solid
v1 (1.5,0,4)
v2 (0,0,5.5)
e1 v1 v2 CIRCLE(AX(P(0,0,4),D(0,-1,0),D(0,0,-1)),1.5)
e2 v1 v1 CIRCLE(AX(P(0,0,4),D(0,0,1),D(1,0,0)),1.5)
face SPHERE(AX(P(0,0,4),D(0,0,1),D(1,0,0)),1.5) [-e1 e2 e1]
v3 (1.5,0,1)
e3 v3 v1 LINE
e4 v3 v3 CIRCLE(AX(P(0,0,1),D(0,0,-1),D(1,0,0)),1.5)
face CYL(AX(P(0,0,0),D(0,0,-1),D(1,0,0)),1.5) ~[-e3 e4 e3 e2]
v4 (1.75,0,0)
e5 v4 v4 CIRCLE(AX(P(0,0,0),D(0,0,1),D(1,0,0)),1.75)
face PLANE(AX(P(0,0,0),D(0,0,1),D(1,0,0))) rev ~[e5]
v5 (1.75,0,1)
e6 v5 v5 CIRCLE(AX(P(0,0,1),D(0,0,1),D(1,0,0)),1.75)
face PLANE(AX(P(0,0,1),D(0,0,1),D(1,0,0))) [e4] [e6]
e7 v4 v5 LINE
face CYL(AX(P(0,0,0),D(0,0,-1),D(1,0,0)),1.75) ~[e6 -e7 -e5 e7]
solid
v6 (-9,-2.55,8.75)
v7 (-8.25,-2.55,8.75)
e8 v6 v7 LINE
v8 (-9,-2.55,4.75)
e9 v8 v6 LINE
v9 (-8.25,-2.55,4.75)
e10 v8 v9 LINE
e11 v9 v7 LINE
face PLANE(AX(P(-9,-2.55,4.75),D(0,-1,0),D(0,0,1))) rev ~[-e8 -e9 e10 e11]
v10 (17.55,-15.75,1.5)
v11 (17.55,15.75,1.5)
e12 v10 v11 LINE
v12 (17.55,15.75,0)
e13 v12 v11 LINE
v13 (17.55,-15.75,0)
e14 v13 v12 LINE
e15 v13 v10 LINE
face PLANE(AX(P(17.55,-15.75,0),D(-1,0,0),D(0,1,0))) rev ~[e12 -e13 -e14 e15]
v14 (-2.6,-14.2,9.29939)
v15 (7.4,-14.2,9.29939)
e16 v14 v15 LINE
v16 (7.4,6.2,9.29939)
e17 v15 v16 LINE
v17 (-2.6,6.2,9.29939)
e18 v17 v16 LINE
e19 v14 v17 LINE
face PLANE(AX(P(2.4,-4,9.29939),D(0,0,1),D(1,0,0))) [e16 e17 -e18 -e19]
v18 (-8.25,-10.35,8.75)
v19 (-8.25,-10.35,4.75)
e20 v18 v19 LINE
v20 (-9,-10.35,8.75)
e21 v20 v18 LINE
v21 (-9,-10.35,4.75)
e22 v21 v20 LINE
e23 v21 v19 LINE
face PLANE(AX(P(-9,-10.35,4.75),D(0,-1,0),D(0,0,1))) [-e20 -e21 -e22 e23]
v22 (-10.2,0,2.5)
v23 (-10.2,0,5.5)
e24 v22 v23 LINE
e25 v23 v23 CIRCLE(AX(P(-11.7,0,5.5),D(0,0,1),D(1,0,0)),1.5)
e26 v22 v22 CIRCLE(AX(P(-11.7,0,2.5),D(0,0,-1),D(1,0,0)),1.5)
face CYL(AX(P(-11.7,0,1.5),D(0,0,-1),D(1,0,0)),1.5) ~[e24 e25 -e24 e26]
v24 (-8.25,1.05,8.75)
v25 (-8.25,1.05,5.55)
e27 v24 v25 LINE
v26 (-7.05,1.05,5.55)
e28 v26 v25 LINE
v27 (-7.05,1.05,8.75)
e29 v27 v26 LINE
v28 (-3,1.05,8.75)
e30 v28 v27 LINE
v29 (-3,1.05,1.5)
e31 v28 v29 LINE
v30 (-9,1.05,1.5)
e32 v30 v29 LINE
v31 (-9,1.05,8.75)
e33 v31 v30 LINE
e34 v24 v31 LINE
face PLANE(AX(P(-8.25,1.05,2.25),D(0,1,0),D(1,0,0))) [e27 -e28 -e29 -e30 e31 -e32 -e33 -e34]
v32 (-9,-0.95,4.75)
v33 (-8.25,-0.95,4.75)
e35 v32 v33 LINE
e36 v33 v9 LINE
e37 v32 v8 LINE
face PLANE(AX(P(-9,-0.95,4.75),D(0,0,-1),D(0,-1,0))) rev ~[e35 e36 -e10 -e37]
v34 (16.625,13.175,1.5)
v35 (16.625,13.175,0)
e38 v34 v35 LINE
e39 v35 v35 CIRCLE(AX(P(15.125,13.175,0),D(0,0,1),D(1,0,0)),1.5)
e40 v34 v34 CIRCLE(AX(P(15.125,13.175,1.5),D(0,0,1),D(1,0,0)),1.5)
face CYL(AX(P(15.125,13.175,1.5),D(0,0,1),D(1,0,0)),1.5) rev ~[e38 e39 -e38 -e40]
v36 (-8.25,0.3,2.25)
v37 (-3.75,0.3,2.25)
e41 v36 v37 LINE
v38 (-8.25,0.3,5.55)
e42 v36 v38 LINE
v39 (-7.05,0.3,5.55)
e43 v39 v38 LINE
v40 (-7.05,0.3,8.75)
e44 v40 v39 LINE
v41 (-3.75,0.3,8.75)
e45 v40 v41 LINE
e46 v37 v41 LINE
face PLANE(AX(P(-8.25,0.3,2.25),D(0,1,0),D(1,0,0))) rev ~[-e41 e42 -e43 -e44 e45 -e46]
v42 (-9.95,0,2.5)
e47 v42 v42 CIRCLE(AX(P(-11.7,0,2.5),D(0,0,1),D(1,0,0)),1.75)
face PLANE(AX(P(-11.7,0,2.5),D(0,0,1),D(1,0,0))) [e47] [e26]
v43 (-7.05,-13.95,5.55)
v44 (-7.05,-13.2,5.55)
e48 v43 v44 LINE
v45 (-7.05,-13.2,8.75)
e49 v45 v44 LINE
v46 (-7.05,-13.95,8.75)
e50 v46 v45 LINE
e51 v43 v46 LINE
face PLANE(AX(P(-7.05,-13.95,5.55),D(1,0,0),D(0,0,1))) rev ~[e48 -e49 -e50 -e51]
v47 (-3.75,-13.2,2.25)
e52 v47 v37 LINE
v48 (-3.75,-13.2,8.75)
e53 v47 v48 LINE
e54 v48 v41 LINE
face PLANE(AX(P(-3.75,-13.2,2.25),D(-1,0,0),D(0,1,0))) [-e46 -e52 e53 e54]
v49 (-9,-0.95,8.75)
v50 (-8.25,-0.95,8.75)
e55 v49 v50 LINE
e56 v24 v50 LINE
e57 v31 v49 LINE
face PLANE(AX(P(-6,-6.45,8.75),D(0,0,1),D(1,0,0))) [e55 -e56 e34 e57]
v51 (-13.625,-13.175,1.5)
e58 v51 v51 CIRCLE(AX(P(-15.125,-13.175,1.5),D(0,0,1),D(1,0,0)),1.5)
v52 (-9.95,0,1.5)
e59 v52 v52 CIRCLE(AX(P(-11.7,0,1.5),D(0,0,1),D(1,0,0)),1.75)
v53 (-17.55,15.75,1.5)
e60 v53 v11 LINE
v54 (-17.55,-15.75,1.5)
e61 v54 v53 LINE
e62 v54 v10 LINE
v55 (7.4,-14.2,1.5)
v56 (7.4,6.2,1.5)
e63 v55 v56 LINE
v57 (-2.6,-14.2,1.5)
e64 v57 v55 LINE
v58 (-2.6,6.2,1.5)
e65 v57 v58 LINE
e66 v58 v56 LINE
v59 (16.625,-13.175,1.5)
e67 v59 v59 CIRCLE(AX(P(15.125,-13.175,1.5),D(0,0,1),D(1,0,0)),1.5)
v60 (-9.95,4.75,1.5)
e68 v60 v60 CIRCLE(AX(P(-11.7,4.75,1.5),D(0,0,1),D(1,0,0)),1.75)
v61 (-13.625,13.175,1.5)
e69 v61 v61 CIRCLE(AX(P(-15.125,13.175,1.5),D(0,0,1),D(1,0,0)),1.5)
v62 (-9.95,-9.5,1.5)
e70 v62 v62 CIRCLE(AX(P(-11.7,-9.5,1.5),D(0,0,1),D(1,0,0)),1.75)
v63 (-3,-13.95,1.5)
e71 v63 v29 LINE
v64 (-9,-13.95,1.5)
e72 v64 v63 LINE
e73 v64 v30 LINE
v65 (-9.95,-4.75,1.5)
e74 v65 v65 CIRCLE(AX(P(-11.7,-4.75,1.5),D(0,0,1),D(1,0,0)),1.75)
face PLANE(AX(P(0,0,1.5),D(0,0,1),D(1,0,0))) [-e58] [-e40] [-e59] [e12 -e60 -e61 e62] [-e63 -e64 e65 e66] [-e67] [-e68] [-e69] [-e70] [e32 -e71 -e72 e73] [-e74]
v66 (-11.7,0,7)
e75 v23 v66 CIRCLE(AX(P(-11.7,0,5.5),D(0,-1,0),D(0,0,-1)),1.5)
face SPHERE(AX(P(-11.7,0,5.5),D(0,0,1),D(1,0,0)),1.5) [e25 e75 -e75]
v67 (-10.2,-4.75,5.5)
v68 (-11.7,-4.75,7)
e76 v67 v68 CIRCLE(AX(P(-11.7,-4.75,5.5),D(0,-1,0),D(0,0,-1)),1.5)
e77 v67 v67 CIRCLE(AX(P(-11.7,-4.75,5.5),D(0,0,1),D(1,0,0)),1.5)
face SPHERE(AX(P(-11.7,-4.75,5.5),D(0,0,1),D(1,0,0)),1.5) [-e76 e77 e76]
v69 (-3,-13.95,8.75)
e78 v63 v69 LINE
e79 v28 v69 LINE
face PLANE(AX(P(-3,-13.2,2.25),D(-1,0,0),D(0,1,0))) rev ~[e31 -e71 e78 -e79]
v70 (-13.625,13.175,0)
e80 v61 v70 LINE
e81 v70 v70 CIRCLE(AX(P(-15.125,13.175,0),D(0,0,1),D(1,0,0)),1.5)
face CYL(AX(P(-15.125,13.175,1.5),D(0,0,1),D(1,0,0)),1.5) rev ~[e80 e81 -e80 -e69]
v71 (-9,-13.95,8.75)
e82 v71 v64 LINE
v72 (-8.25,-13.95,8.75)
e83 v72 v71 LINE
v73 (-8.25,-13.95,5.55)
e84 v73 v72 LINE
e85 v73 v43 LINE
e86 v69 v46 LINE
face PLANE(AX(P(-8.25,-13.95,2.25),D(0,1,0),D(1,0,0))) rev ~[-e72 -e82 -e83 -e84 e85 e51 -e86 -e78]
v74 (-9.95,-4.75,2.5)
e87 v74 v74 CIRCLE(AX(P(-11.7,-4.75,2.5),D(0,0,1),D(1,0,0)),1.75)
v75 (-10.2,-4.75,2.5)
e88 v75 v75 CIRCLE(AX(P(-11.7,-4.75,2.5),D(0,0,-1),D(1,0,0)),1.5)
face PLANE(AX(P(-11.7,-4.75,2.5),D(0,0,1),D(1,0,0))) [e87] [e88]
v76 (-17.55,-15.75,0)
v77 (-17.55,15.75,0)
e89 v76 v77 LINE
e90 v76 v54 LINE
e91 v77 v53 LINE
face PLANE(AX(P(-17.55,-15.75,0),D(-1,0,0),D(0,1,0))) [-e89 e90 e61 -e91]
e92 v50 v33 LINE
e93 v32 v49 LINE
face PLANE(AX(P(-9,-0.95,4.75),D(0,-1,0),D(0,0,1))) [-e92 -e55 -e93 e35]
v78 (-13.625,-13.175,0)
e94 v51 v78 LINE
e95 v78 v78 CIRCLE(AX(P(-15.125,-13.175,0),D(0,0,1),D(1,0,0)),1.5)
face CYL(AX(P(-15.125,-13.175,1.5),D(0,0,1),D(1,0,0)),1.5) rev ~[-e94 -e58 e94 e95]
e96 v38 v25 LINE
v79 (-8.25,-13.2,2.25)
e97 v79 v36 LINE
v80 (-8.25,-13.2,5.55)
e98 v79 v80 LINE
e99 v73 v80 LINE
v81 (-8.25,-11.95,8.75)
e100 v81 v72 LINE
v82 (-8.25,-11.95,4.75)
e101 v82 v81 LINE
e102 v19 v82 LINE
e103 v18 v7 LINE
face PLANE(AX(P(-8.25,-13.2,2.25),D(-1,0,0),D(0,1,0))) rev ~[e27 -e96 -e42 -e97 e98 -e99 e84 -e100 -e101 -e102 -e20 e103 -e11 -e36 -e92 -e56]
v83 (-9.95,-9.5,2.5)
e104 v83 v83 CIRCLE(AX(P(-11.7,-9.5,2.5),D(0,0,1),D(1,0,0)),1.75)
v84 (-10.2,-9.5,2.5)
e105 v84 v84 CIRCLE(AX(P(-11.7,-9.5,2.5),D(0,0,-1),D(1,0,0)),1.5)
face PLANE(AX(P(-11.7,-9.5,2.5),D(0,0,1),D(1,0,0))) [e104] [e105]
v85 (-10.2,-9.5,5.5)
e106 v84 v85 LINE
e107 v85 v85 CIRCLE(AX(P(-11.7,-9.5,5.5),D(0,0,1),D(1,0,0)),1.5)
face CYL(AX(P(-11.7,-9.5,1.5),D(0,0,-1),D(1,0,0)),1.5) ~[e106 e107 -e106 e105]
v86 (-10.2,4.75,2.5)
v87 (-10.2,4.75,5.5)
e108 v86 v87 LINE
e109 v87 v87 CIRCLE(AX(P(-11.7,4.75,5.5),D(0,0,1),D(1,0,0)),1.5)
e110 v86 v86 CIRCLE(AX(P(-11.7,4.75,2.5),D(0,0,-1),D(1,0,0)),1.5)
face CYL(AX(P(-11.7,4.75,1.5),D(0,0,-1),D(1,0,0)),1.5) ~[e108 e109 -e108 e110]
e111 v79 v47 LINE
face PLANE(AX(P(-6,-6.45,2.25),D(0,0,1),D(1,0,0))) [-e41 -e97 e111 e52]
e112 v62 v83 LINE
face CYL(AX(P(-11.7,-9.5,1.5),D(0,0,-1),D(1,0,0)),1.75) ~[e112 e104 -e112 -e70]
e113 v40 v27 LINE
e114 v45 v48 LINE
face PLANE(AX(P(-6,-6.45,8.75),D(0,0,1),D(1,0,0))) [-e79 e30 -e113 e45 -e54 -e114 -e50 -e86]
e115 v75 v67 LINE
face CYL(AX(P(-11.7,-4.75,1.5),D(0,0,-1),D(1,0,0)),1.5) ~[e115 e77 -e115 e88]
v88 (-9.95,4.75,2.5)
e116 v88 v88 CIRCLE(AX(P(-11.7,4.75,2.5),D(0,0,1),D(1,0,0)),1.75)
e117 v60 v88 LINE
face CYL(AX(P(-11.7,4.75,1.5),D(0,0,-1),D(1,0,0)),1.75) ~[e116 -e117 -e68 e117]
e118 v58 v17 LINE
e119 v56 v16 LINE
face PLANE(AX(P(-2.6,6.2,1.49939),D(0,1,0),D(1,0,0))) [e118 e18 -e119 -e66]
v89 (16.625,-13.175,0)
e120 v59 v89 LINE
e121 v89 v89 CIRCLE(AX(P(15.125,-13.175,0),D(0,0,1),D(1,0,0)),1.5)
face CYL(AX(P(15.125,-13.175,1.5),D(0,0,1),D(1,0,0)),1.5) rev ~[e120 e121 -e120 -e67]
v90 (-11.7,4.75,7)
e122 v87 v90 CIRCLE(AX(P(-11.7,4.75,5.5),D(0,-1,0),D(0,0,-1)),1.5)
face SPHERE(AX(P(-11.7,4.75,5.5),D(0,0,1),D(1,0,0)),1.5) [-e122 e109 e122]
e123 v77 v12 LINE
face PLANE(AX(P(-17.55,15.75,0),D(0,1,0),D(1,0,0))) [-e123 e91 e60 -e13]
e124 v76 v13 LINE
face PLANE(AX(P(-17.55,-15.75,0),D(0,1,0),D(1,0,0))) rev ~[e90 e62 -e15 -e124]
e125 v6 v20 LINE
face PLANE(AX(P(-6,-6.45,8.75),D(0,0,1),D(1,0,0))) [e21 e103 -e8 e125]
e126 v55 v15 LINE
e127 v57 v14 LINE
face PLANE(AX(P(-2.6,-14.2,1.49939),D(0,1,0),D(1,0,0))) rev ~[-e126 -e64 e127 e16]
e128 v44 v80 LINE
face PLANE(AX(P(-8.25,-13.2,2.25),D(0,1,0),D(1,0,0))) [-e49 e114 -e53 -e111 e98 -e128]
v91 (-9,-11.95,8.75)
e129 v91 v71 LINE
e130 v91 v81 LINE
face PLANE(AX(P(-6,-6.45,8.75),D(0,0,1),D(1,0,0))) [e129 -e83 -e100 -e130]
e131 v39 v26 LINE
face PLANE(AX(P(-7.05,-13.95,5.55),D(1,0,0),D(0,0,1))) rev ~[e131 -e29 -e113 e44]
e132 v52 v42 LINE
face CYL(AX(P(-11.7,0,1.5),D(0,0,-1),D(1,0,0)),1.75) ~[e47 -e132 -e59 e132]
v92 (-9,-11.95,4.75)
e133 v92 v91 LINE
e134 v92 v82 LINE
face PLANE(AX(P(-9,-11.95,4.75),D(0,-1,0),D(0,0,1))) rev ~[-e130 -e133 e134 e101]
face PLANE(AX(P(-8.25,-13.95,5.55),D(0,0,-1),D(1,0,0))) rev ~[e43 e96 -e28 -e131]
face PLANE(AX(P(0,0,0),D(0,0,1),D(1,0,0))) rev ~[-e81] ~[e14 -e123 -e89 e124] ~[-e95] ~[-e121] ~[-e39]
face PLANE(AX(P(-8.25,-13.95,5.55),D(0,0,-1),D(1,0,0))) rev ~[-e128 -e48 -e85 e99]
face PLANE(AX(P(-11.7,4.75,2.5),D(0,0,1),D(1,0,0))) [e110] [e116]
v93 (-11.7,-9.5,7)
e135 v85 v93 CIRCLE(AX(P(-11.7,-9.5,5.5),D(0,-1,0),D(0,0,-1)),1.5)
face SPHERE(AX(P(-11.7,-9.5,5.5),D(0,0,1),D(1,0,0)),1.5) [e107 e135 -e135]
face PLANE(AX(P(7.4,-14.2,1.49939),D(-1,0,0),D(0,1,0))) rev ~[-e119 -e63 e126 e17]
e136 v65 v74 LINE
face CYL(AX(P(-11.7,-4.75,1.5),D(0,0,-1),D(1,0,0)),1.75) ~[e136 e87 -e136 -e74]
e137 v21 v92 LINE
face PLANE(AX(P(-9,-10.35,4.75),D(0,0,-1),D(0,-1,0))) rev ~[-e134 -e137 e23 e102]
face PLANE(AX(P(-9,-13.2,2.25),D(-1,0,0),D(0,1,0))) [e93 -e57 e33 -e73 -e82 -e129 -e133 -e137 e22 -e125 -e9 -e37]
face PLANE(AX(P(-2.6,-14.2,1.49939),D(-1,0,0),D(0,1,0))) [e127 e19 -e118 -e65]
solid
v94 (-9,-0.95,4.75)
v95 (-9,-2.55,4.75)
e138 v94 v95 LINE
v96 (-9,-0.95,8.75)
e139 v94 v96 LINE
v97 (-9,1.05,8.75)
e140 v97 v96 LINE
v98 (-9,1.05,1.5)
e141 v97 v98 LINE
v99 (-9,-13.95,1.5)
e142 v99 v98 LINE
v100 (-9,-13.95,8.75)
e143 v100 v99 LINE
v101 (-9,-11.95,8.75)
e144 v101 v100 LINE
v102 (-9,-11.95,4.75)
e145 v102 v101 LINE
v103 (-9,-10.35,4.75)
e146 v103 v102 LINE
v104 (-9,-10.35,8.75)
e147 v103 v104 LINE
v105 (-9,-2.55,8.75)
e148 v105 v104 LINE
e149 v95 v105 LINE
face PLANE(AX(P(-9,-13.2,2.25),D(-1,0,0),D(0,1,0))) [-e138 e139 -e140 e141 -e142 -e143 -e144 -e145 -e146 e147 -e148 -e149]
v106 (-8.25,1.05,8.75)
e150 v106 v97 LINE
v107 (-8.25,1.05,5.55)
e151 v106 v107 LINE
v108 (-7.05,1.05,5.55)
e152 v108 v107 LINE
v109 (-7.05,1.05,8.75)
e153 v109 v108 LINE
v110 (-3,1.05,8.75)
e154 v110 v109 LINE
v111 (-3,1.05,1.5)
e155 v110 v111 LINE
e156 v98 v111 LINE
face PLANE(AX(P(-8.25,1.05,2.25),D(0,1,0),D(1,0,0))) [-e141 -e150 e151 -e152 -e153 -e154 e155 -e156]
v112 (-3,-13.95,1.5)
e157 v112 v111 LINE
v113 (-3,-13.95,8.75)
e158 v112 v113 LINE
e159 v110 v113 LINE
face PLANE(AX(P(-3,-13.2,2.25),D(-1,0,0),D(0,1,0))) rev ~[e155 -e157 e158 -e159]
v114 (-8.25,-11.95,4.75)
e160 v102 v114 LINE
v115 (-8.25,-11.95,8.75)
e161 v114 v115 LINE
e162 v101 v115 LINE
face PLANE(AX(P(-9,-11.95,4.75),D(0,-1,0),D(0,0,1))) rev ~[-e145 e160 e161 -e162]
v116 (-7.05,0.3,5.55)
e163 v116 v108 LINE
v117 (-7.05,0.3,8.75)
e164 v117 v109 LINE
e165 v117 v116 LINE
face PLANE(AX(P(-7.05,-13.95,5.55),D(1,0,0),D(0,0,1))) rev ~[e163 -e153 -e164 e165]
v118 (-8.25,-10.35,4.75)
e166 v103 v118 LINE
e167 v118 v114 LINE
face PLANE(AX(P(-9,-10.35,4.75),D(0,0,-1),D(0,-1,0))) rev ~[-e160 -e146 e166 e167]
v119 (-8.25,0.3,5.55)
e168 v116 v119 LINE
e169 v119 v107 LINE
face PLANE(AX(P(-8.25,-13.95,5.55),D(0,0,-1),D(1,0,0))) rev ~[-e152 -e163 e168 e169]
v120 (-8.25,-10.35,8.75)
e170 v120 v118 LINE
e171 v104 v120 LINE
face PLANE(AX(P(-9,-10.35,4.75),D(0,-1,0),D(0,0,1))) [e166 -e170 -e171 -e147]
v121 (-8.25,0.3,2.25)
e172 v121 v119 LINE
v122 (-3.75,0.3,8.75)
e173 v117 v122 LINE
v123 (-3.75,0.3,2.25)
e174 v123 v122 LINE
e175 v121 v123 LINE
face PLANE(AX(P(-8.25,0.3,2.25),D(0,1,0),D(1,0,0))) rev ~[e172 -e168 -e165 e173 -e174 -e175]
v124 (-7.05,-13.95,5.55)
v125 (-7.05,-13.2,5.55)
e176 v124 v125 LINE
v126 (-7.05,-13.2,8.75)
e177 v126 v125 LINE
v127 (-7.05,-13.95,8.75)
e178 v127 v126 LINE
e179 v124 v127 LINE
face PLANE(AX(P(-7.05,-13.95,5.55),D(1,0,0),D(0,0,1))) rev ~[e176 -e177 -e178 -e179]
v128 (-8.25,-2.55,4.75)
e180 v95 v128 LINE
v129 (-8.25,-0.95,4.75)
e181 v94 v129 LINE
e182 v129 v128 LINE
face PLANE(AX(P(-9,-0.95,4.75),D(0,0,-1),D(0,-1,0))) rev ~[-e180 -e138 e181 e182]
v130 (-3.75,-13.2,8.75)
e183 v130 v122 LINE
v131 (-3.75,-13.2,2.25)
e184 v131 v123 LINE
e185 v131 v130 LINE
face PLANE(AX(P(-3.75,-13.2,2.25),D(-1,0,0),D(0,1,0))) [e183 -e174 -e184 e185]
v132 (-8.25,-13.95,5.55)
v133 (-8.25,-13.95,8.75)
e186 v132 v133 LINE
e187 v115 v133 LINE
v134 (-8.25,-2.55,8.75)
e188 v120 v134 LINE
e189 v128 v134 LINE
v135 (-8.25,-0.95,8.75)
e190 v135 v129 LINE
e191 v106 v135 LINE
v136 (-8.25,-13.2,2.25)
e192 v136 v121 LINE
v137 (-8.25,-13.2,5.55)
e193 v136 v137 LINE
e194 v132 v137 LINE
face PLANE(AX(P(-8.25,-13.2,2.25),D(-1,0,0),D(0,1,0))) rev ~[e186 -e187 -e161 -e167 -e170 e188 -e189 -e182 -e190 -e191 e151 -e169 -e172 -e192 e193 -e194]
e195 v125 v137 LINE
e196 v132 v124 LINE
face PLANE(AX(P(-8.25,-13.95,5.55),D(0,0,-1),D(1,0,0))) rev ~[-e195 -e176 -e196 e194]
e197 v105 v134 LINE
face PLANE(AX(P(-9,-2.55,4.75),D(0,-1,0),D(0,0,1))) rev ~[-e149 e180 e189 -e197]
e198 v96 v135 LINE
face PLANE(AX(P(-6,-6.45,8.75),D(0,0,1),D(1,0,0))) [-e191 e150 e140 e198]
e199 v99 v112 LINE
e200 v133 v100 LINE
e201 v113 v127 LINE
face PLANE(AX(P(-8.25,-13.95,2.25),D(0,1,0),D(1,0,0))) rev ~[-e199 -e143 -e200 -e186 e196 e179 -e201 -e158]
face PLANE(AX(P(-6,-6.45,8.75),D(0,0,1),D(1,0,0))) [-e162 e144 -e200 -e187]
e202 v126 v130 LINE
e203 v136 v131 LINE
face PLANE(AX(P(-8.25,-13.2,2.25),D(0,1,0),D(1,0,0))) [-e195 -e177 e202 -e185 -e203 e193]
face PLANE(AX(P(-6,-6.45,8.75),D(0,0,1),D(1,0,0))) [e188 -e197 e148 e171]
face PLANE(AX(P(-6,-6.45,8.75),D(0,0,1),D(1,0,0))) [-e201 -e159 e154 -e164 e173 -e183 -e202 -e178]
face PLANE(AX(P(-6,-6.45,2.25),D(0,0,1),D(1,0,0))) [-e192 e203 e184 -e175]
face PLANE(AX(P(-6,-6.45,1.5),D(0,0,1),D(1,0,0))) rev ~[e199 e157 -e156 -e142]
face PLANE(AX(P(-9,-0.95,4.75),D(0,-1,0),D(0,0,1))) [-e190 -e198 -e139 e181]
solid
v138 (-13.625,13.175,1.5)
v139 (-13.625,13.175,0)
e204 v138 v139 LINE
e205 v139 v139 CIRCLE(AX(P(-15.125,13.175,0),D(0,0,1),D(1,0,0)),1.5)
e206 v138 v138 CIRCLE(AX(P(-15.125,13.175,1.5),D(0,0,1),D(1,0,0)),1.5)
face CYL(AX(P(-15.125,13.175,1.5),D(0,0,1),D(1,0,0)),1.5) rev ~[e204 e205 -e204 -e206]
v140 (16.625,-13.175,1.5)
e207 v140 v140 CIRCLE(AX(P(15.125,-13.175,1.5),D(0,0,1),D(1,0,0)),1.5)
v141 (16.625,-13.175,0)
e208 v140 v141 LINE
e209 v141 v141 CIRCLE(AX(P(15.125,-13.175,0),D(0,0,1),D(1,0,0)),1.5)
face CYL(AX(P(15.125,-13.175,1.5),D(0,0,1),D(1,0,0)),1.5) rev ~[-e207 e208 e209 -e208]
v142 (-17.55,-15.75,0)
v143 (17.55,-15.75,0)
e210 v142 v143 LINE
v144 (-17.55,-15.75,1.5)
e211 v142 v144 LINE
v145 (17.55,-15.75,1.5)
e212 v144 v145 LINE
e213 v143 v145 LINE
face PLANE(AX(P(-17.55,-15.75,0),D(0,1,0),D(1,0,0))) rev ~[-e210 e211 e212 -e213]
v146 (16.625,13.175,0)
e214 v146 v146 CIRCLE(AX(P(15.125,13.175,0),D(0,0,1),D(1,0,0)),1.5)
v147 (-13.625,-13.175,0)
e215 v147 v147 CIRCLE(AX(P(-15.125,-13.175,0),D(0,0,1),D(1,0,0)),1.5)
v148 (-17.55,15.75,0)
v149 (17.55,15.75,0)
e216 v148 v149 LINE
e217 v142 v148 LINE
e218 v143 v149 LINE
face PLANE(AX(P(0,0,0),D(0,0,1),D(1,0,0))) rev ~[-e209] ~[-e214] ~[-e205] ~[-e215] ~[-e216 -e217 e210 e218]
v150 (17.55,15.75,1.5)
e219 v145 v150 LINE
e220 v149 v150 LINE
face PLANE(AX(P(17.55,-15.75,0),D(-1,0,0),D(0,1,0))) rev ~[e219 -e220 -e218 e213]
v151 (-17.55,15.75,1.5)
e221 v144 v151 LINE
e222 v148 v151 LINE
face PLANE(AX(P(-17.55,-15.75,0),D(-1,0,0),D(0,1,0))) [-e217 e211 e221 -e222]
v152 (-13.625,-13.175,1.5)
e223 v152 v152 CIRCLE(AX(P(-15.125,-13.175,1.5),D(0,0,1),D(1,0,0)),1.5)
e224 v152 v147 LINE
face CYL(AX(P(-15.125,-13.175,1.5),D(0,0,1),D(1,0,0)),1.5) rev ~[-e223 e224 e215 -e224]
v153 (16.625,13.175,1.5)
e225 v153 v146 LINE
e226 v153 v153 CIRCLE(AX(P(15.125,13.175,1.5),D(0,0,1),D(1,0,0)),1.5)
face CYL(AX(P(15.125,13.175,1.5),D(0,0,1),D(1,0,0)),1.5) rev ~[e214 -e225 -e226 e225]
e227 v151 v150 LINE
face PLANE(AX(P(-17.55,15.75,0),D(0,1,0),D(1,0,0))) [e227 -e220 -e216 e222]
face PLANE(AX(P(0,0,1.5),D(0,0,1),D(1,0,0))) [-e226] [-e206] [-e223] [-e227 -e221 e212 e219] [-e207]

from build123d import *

# Parameters (mm, degrees)
SKETCH_W          = 35.1
SKETCH_H          = 31.5
PAD_DEPTH         = 1.5
SKETCH001_R       = 1.5
POCKET_DEPTH      = 1.501
CYLINDER001_R     = 1.75
CYLINDER001_DEPTH = 1
CYLINDER_R        = 1.5
CYLINDER_DEPTH    = 4
BOX001_W          = 4.5
BOX001_H          = 13.5
BOX001_DEPTH      = 6.5
THICKNESS_T       = 0.75
SKETCH002_W       = 1.6
SKETCH002_H       = 4
POCKET001_DEPTH   = 0.75
SKETCH003_W       = 1.2
SKETCH003_H       = 3.2
POCKET002_DEPTH   = 15.001
BOX_W             = 10
BOX_H             = 20.4
BOX_DEPTH         = 7.8


with BuildPart() as pcb_holes_pocket:
    # Sketch → Pad (new body)
    with BuildSketch(Plane.XY):
        Rectangle(SKETCH_W, SKETCH_H)
    extrude(amount=PAD_DEPTH)

    # Sketch001 → Pocket (cut, through all)
    with BuildSketch(Plane.XY.offset(1.5)):
        with Locations((-15.125, 13.175)):
            Circle(SKETCH001_R)
        with Locations((-15.125, -13.175)):
            Circle(SKETCH001_R)
        with Locations((15.125, -13.175)):
            Circle(SKETCH001_R)
        with Locations((15.125, 13.175)):
            Circle(SKETCH001_R)
    extrude(amount=-POCKET_DEPTH, mode=Mode.SUBTRACT)


with BuildPart() as led_base:
    # Cylinder001 → Cylinder001 (new body)
    with BuildSketch(Plane.XY):
        Circle(CYLINDER001_R)
    extrude(amount=CYLINDER001_DEPTH)


with BuildPart() as led_body:
    # Cylinder → Cylinder (new body)
    with BuildSketch(Plane.XY):
        Circle(CYLINDER_R)
    extrude(amount=CYLINDER_DEPTH)


with BuildPart() as led:
    # Sphere → Sphere (revolve)
    with BuildSketch(Plane(origin=(0, 0, 4), x_dir=(1, 0, 0), z_dir=(0, -1, 0))):
        with BuildLine():
            ThreePointArc((0, -1.5), (1.5, 0), (0, 1.5))
            Line((0, 1.5), (0, -1.5))
        make_face()
    revolve(axis=Axis((0, 0, 4), (0, 0, 1)))

    # Fusion: union led-base, led-body
    add(led_base.part)
    add(led_body.part)


with BuildPart() as connector_side_pocket:
    # Box001 → Box001 (new body)
    with BuildSketch(Plane(origin=(-8.25, -13.2, 2.25), x_dir=(1, 0, 0), z_dir=(0, 0, 1))):
        with Locations((2.25, 6.75)):
            Rectangle(BOX001_W, BOX001_H)
    extrude(amount=BOX001_DEPTH)

    # Thickness
    thickness_openings = [connector_side_pocket.faces().sort_by_distance(p)[0] for p in [
        (-6, -6.45, 8.75),
    ]]
    offset(amount=THICKNESS_T, openings=thickness_openings, kind=Kind.INTERSECTION)

    # Sketch002 → Pocket001 (cut)
    with BuildSketch(Plane(origin=(-9, 0, 0), x_dir=(0, -1, 0), z_dir=(-1, 0, 0))):
        with Locations((1.75, 6.75)):
            Rectangle(SKETCH002_W, SKETCH002_H)
        with Locations((11.15, 6.75)):
            Rectangle(SKETCH002_W, SKETCH002_H)
    extrude(amount=-POCKET001_DEPTH, mode=Mode.SUBTRACT)

    # Sketch003 → Pocket002 (cut, through all)
    with BuildSketch(Plane.XZ.offset(13.95)):
        with Locations((-7.65, 7.15)):
            Rectangle(SKETCH003_W, SKETCH003_H)
    extrude(amount=-POCKET002_DEPTH, mode=Mode.SUBTRACT)


with BuildPart() as pcb:
    # Clone base: copy of pcb-holes-pocket
    add(pcb_holes_pocket.part)


with BuildPart() as connector:
    # Clone001 base: copy of connector-side-pocket
    add(connector_side_pocket.part)


with BuildPart() as clone002:
    # Clone002 base: copy of led
    add(led.part)


with BuildPart() as clone002_1:
    # Clone002 placement: moved
    add(clone002.part.moved(Location((-11.7, -9.5, 1.5))))


with BuildPart() as clone003:
    # Clone003 base: copy of led
    add(led.part)


with BuildPart() as clone003_1:
    # Clone003 placement: moved
    add(clone003.part.moved(Location((-11.7, -4.75, 1.5))))


with BuildPart() as clone004:
    # Clone004 base: copy of led
    add(led.part)


with BuildPart() as clone004_1:
    # Clone004 placement: moved
    add(clone004.part.moved(Location((-11.7, 0, 1.5))))


with BuildPart() as clone005:
    # Clone005 base: copy of led
    add(led.part)


with BuildPart() as clone005_1:
    # Clone005 placement: moved
    add(clone005.part.moved(Location((-11.7, 4.75, 1.5))))


with BuildPart() as driver_board:
    # Box → Box (new body)
    with BuildSketch(Plane(origin=(-2.6, -14.2, 1.49939), x_dir=(1, 0, 0), z_dir=(0, 0, 1))):
        with Locations((5, 10.2)):
            Rectangle(BOX_W, BOX_H)
    extrude(amount=BOX_DEPTH)

    # Fusion001: union pcb, connector, Clone002, Clone003, Clone004, Clone005
    add(pcb.part)
    add(connector.part)
    add(clone002_1.part)
    add(clone003_1.part)
    add(clone004_1.part)
    add(clone005_1.part)


solid = Compound([pcb_holes_pocket.part, led.part, connector_side_pocket.part, driver_board.part])
